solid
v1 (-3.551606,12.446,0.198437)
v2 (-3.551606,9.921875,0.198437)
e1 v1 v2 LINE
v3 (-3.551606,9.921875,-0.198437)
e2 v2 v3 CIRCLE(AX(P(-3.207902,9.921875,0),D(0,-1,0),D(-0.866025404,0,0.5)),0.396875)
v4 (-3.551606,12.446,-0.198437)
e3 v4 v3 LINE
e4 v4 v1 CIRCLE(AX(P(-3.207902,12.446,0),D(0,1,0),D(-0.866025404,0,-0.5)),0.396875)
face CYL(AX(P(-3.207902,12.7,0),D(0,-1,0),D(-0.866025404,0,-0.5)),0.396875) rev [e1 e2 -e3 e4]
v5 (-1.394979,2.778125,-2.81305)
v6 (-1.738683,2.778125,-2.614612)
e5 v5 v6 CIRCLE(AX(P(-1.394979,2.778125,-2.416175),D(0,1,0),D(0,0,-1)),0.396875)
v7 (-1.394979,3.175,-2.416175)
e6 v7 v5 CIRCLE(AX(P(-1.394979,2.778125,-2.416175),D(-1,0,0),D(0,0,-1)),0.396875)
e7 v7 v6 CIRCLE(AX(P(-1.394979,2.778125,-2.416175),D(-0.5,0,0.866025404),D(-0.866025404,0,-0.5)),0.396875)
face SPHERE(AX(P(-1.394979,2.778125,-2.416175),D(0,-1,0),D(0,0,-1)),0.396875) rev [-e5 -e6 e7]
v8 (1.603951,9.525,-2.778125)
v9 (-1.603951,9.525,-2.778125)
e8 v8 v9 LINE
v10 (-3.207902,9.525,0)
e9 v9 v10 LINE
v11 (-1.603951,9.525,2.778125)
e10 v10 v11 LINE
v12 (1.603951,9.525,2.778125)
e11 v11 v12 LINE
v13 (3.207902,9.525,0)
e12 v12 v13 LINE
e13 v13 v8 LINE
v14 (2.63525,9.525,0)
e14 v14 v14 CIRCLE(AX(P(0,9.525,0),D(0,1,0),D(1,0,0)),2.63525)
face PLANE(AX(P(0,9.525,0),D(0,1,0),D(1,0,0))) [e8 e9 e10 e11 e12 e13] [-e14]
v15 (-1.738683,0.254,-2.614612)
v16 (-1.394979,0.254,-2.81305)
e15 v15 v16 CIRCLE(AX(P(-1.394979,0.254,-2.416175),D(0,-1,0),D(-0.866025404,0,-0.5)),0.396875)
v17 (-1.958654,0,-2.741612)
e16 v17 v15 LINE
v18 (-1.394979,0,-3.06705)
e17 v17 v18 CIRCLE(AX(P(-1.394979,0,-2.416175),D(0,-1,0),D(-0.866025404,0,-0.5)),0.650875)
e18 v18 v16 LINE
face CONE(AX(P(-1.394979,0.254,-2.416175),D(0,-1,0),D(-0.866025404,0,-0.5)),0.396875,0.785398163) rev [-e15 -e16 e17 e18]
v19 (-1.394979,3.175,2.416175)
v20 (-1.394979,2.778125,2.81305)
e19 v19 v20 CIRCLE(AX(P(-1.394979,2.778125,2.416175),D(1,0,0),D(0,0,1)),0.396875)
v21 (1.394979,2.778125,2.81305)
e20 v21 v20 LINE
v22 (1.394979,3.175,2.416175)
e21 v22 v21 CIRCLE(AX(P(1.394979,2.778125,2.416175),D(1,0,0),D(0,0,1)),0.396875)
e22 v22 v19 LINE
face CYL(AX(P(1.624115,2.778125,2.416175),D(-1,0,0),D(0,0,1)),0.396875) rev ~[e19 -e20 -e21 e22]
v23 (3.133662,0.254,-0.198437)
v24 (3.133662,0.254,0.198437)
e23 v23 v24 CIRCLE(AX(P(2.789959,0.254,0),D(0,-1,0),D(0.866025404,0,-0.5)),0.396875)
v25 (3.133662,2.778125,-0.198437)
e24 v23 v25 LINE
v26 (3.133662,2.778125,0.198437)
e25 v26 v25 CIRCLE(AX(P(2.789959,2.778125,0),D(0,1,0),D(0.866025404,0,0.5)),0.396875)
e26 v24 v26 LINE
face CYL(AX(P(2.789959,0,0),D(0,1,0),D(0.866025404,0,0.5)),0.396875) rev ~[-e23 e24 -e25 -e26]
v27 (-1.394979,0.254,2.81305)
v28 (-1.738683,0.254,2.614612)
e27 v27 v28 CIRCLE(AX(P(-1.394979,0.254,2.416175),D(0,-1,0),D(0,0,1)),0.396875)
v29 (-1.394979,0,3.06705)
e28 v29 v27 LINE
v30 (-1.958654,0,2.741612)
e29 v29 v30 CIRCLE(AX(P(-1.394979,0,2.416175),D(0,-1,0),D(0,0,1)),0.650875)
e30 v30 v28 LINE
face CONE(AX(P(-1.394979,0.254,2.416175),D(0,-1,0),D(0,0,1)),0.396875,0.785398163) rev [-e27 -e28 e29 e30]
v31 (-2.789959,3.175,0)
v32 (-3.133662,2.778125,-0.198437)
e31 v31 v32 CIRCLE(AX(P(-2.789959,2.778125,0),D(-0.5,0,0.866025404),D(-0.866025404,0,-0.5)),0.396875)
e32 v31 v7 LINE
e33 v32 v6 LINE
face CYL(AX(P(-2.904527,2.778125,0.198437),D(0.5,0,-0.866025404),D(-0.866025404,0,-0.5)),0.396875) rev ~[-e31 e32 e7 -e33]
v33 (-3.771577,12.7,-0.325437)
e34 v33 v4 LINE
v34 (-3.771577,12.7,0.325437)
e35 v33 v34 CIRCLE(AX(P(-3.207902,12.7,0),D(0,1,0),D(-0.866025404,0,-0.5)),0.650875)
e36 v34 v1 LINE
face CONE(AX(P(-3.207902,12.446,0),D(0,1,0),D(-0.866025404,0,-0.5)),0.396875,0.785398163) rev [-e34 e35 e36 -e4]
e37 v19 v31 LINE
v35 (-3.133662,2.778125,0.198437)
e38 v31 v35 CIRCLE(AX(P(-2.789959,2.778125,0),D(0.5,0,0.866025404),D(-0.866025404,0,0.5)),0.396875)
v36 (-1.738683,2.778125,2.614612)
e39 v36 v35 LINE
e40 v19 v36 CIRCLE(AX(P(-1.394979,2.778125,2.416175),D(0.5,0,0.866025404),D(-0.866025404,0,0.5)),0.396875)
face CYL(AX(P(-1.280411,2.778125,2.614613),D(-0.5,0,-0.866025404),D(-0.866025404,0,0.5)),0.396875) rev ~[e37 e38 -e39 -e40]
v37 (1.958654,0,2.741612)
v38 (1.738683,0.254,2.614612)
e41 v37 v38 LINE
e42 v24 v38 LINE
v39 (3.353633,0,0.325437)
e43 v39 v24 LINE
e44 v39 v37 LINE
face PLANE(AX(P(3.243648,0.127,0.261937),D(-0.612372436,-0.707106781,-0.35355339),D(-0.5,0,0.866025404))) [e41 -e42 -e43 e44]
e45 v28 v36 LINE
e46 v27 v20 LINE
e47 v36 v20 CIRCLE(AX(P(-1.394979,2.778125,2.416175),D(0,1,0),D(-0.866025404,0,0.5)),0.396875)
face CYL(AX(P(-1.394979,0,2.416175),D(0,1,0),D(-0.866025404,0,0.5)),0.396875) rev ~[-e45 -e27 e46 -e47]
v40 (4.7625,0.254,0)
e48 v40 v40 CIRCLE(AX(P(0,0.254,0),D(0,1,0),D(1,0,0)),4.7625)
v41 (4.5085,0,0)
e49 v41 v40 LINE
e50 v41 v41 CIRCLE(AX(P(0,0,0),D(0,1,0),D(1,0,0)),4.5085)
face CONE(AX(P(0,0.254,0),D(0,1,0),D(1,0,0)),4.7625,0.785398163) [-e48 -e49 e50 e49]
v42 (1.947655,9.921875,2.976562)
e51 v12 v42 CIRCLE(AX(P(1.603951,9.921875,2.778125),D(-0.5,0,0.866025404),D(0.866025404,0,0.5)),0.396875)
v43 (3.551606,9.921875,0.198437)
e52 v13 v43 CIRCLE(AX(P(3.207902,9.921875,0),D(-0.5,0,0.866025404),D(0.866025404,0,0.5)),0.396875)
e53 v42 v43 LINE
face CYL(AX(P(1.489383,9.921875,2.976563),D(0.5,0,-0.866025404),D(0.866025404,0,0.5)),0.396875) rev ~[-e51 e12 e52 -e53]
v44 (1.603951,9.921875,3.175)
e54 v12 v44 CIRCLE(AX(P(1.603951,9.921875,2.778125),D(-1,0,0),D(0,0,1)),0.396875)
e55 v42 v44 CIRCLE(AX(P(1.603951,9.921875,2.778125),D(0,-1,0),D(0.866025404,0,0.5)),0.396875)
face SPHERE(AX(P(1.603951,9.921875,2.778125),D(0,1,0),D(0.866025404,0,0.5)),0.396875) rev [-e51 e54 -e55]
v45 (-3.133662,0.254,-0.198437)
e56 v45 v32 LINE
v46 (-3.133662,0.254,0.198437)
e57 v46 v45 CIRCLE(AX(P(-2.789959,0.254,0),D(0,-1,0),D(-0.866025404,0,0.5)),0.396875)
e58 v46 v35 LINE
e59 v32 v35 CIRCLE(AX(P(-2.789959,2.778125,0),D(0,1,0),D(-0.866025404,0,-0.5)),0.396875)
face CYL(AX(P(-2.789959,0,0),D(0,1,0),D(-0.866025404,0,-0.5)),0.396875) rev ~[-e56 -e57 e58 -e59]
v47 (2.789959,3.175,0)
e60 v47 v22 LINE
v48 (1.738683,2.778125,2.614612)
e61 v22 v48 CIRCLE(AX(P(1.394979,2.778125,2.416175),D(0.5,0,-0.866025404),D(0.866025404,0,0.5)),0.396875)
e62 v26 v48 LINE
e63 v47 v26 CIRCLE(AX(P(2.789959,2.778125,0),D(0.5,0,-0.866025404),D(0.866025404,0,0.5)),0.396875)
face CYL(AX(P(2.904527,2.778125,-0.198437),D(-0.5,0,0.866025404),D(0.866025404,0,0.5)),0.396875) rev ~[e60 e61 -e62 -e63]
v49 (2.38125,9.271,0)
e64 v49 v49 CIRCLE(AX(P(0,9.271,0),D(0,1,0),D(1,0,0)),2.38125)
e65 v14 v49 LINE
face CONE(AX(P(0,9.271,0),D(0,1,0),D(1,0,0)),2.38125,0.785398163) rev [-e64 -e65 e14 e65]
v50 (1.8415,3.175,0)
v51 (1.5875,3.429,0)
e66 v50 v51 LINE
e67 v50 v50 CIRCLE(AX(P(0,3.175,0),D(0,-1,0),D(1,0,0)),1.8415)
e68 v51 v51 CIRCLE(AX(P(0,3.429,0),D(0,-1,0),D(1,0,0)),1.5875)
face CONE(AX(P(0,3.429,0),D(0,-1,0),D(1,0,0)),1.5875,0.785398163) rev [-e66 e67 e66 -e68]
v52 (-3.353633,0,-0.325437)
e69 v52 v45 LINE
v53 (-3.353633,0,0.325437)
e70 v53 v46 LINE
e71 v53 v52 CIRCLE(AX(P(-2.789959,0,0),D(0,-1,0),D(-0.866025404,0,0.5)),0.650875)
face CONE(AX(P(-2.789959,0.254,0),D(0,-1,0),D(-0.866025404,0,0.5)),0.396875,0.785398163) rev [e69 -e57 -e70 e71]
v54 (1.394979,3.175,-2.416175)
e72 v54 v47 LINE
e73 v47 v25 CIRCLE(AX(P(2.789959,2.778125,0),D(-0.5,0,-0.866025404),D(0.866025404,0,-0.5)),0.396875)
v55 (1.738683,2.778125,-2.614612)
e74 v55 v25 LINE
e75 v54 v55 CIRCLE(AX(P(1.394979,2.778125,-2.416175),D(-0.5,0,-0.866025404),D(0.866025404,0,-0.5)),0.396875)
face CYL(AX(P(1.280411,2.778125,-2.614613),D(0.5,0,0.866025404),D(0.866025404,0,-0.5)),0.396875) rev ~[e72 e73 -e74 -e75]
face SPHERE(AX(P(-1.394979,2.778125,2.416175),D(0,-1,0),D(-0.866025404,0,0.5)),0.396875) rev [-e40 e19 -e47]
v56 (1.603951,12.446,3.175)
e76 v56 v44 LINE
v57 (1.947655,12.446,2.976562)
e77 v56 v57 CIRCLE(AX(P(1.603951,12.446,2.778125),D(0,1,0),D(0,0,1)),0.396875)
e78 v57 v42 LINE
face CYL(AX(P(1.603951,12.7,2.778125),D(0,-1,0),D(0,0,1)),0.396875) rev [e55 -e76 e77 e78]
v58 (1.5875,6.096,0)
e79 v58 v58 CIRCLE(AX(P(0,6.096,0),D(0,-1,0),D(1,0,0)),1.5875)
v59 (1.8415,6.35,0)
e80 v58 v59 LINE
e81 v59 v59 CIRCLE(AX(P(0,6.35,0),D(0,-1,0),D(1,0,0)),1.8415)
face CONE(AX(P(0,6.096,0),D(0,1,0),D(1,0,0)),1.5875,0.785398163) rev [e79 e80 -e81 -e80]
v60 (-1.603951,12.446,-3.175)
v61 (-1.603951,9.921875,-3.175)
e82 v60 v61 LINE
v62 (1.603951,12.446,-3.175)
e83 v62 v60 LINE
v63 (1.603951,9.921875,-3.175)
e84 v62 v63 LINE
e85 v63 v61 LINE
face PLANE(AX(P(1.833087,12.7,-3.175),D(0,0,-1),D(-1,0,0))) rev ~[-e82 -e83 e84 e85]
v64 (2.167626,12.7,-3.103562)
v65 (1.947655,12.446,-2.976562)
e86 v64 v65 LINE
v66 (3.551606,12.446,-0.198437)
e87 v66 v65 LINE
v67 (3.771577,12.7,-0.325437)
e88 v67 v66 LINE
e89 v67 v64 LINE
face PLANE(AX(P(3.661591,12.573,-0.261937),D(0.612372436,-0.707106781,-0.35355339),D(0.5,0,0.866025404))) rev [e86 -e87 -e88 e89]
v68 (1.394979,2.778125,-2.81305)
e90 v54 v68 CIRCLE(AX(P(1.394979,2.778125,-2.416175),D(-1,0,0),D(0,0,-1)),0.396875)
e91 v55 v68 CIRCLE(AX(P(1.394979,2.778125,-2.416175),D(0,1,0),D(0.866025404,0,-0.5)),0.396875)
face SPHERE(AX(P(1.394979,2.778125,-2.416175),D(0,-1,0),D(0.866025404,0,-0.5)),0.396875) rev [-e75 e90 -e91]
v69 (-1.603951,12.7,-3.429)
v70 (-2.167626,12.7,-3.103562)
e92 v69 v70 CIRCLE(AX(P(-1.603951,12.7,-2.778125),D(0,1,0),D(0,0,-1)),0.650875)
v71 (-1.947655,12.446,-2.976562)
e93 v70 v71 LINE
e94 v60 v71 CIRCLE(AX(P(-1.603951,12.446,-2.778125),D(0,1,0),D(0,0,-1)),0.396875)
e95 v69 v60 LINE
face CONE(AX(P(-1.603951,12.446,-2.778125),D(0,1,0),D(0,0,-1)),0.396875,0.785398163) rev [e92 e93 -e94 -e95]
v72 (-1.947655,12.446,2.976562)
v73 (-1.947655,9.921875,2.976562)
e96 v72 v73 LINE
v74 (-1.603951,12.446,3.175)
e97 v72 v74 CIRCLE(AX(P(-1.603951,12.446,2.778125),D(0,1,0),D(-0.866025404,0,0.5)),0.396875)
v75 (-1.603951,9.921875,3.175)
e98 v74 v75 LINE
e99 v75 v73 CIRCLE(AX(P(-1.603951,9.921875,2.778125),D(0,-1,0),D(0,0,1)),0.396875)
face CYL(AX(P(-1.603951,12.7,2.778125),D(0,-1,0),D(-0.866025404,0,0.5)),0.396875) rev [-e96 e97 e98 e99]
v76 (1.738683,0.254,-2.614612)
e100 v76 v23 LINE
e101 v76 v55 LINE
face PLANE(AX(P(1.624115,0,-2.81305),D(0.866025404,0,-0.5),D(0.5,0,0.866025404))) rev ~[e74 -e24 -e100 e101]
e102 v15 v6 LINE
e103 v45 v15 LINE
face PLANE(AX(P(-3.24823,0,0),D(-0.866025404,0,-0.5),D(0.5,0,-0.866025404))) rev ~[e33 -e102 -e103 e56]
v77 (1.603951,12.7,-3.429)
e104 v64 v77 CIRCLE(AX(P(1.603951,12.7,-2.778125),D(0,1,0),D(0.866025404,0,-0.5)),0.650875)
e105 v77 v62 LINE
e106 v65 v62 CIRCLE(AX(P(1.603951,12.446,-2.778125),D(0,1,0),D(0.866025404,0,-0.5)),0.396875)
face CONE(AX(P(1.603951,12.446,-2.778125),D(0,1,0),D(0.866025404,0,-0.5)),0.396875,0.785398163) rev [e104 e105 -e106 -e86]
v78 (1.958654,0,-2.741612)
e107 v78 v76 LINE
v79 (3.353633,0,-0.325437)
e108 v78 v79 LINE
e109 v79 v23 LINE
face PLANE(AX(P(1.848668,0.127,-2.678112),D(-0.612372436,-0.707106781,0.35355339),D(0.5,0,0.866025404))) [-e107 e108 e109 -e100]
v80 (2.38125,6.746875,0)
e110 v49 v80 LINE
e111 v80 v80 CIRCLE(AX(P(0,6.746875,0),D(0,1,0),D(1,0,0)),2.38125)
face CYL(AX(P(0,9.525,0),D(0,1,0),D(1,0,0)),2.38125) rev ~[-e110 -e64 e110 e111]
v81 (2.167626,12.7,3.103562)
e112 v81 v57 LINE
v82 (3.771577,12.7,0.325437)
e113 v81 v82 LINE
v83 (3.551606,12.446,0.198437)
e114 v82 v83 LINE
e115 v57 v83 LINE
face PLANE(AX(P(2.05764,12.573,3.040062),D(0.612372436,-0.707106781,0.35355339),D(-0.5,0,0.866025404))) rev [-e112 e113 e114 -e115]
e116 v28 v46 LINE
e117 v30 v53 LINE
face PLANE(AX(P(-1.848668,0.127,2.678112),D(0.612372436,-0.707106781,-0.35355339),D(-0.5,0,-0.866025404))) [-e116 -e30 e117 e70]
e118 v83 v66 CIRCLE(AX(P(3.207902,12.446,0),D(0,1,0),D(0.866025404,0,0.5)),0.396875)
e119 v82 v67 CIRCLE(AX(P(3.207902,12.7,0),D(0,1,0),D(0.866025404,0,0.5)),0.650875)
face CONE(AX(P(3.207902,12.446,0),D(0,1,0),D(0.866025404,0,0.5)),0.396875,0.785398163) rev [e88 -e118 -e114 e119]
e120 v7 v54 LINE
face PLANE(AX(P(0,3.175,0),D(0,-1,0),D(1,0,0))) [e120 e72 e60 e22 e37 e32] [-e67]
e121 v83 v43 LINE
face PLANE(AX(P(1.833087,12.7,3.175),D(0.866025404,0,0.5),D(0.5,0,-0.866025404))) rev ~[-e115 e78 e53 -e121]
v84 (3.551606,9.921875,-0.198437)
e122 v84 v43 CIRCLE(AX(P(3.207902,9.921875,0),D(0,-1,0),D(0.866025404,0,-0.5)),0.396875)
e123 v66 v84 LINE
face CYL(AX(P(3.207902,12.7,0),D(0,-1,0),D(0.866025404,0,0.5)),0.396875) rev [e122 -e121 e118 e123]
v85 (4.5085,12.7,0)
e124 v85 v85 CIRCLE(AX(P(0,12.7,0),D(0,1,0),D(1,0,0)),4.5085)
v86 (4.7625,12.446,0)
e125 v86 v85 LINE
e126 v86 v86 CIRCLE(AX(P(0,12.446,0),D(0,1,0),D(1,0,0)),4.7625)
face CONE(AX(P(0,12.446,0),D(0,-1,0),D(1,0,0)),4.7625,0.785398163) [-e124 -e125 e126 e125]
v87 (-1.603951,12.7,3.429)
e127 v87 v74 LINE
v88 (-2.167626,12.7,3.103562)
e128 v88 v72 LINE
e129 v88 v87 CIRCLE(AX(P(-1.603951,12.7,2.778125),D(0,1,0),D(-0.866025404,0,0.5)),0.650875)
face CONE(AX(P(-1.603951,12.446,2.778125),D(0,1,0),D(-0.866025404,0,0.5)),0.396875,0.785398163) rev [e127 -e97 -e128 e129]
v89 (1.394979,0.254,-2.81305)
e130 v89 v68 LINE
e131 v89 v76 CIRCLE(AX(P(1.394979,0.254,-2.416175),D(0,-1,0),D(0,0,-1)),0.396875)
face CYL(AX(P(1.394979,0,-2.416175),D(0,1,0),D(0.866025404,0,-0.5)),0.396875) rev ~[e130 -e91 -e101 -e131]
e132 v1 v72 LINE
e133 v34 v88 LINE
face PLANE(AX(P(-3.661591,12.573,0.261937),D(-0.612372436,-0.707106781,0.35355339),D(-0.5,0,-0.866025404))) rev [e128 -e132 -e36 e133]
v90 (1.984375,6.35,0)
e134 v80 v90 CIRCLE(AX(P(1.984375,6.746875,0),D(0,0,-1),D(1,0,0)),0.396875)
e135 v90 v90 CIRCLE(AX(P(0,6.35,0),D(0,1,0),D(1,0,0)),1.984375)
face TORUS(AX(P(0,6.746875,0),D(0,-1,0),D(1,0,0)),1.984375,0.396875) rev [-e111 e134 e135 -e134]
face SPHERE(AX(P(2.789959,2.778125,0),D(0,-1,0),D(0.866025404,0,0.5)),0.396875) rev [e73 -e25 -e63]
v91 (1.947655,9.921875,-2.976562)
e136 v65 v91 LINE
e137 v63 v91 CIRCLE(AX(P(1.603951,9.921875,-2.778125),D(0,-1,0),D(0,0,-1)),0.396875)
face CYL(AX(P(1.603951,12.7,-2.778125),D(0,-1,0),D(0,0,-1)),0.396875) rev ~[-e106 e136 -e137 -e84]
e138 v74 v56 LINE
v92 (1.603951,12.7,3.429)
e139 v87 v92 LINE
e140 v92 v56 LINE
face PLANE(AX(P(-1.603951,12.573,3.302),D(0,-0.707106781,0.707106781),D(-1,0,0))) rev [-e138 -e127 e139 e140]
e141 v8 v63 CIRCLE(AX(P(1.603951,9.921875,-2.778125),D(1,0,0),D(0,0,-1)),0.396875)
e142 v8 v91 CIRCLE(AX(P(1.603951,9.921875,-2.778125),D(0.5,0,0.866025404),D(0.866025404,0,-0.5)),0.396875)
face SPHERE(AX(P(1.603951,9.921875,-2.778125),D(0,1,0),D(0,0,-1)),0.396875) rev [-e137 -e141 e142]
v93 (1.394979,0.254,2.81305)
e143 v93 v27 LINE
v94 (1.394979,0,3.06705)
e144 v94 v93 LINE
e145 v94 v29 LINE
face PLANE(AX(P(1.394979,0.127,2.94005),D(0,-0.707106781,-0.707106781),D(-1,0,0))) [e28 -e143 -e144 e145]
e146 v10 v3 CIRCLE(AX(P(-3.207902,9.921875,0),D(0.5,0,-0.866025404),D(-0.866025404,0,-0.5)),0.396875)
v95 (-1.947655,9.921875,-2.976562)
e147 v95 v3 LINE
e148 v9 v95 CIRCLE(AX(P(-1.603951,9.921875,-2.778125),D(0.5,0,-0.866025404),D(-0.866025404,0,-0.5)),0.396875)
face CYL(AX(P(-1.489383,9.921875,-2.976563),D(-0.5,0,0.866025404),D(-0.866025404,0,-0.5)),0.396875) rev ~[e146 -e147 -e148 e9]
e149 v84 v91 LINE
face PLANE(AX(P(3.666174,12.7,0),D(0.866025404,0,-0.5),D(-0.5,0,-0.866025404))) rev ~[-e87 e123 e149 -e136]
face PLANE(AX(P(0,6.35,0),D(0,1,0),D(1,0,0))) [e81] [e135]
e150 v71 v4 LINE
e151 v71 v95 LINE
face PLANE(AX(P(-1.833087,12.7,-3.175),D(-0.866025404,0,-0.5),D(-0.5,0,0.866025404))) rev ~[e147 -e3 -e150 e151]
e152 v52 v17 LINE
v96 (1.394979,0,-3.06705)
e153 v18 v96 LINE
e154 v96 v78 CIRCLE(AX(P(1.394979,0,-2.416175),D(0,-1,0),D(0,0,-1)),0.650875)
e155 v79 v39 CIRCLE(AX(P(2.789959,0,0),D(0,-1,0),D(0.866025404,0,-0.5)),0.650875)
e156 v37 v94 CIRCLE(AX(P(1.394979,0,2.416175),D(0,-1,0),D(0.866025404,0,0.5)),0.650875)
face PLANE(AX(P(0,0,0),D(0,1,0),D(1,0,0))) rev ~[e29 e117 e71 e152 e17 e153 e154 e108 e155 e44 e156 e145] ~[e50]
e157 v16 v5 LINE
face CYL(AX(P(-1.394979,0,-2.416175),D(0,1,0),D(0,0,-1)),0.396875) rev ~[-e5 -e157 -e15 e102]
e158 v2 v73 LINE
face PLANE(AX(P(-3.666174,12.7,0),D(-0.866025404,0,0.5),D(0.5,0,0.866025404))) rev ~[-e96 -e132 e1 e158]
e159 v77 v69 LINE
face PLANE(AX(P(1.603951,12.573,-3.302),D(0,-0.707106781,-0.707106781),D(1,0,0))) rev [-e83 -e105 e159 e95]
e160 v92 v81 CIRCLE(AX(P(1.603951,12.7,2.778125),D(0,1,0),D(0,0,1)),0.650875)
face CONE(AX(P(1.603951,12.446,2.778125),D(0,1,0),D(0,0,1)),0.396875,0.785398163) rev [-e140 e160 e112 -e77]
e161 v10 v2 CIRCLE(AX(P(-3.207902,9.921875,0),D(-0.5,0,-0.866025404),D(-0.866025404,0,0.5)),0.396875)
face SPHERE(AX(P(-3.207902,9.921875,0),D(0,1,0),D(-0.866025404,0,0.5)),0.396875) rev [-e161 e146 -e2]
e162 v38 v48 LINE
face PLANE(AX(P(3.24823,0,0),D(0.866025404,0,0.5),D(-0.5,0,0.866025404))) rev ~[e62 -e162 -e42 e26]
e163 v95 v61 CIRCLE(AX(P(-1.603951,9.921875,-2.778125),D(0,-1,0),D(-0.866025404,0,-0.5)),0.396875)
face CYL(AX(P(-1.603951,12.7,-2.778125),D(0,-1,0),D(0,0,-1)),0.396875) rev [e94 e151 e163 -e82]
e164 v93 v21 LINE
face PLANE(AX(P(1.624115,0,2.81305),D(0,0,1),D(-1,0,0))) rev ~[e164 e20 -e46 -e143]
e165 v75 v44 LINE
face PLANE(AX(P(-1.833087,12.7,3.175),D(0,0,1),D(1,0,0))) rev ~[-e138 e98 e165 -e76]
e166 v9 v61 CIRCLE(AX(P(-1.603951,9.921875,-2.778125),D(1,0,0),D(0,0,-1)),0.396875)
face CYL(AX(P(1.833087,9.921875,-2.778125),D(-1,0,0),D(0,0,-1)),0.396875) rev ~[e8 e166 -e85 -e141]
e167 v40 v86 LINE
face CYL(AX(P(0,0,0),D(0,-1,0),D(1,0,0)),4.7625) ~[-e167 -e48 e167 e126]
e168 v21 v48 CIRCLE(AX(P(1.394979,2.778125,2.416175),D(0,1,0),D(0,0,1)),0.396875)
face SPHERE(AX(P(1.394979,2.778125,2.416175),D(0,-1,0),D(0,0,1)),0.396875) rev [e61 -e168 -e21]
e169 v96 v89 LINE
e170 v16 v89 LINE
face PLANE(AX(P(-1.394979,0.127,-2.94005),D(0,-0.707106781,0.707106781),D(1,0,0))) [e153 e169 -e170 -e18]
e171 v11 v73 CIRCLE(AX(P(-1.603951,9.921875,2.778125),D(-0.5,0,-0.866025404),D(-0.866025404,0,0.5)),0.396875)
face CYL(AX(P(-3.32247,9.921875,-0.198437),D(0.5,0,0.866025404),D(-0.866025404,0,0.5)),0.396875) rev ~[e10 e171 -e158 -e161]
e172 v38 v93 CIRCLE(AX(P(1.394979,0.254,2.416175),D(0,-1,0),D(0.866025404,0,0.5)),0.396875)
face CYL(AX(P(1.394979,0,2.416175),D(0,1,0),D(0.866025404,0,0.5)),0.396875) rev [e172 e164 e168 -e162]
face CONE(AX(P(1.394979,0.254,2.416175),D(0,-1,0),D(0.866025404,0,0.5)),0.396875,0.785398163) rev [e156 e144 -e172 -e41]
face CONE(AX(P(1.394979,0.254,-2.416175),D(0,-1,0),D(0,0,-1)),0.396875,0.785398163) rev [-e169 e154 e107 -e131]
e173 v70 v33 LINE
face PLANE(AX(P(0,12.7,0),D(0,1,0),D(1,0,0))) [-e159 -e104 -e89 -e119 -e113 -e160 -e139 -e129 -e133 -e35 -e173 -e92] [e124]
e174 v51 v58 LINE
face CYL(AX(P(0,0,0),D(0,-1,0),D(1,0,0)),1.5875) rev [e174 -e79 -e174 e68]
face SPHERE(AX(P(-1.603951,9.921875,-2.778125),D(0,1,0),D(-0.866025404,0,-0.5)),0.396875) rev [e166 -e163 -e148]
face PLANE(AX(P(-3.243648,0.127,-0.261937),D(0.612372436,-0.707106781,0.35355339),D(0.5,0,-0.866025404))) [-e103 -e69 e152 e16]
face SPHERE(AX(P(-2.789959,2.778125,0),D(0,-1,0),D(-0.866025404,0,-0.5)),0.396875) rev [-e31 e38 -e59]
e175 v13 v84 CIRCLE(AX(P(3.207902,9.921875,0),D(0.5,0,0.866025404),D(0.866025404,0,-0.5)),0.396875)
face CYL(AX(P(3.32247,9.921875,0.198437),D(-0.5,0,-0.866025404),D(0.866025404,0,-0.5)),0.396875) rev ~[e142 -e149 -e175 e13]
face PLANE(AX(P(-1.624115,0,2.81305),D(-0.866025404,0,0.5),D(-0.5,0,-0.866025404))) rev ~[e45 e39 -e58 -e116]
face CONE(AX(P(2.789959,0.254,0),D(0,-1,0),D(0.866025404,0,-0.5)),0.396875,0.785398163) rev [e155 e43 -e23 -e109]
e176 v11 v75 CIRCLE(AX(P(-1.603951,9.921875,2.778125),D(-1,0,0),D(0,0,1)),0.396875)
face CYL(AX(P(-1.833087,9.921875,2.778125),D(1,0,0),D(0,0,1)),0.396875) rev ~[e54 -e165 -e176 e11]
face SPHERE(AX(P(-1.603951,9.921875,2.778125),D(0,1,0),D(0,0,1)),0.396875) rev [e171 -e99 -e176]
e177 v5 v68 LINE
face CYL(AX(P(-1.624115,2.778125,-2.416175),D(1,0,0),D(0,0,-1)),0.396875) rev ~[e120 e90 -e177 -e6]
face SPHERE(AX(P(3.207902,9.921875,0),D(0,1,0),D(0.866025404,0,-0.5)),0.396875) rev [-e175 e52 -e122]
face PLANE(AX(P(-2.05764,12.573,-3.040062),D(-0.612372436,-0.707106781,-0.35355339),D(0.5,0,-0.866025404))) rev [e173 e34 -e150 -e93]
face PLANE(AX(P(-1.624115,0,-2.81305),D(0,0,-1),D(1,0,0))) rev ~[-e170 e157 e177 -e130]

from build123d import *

# Parameters (mm, degrees)
SKETCH4_R           = 4.7625
SKETCH4_R_2         = 1.5875
BOSS_EXTRUDE1_DEPTH = 12.7
CUT_EXTRUDE3_DEPTH  = 3.175
CUT_EXTRUDE2_DEPTH  = 3.175
SKETCH8_R           = 2.38125
CUT_EXTRUDE4_DEPTH  = 3.175
FILLET1_R           = 0.396875
CHAMFER1_SIZE       = 0.254


with BuildPart() as part:
    # Sketch4 → Boss-Extrude1 (new body)
    with BuildSketch(Plane(origin=(0, 0, 0), x_dir=(1, 0, 0), z_dir=(0, 1, 0))):
        Circle(SKETCH4_R)
        Circle(SKETCH4_R_2, mode=Mode.SUBTRACT)
    extrude(amount=BOSS_EXTRUDE1_DEPTH)

    # Sketch7 → Cut-Extrude3 (cut)
    with BuildSketch(Plane.XZ):
        Polygon((1.624115175, 2.81305), (-1.624115175, 2.81305), (-3.248230349, 0), (-1.624115175, -2.81305), (1.624115175, -2.81305), (3.248230349, 0), align=None)
    extrude(amount=-CUT_EXTRUDE3_DEPTH, mode=Mode.SUBTRACT)

    # Sketch6 → Cut-Extrude2 (cut)
    with BuildSketch(Plane(origin=(0, 12.7, 0), x_dir=(1, 0, 0), z_dir=(0, 1, 0))):
        Polygon((1.833087105, 3.175), (-1.833087105, 3.175), (-3.666174209, 0), (-1.833087105, -3.175), (1.833087105, -3.175), (3.666174209, 0), align=None)
    extrude(amount=-CUT_EXTRUDE2_DEPTH, mode=Mode.SUBTRACT)

    # Sketch8 → Cut-Extrude4 (cut)
    with BuildSketch(Plane(origin=(0, 9.525, 0), x_dir=(1, 0, 0), z_dir=(0, 1, 0))):
        Circle(SKETCH8_R)
    extrude(amount=-CUT_EXTRUDE4_DEPTH, mode=Mode.SUBTRACT)

    # Fillet1
    fillet1_edges = [part.edges().sort_by_distance(p)[0] for p in [
        (2.436172762, 3.175, 1.406525),
        (1.624115175, 1.5875, 2.81305),
        (2.436172762, 3.175, -1.406525),
        (3.248230349, 1.5875, 0),
        (0, 3.175, -2.81305),
        (1.624115175, 1.5875, -2.81305),
        (-2.436172762, 3.175, -1.406525),
        (-1.624115175, 1.5875, -2.81305),
        (-2.436172762, 3.175, 1.406525),
        (-3.248230349, 1.5875, 0),
        (0, 3.175, 2.81305),
        (-1.624115175, 1.5875, 2.81305),
        (2.749630657, 9.525, -1.5875),
        (1.833087105, 11.1125, -3.175),
        (2.749630657, 9.525, 1.5875),
        (3.666174209, 11.1125, 0),
        (0, 9.525, 3.175),
        (1.833087105, 11.1125, 3.175),
        (-2.749630657, 9.525, 1.5875),
        (-1.833087105, 11.1125, 3.175),
        (-2.749630657, 9.525, -1.5875),
        (-3.666174209, 11.1125, 0),
        (0, 9.525, -3.175),
        (-1.833087105, 11.1125, -3.175),
        (-2.38125, 6.35, 0),
    ]]
    fillet(fillet1_edges, radius=FILLET1_R)

    # Chamfer1
    chamfer1_edges = [part.edges().sort_by_distance(p)[0] for p in [
        (-1.5875, 3.175, 0),
        (-4.7625, 0, 0),
        (-4.7625, 12.7, 0),
        (-1.5875, 6.35, 0),
        (-2.38125, 9.525, 0),
        (2.436172762, 0, 1.406525),
        (2.436172762, 0, -1.406525),
        (0, 0, -2.81305),
        (-2.436172762, 0, -1.406525),
        (-2.436172762, 0, 1.406525),
        (0, 0, 2.81305),
        (0, 12.7, -3.175),
        (2.749630657, 12.7, -1.5875),
        (-2.749630657, 12.7, 1.5875),
        (-2.749630657, 12.7, -1.5875),
        (0, 12.7, 3.175),
        (2.749630657, 12.7, 1.5875),
        (3.186833573, 0, 0),
        (-1.593416787, 0, -2.759878832),
        (-3.186833573, 0, 0),
        (-1.593416787, 0, 2.759878832),
        (1.593416787, 0, 2.759878832),
        (1.593416787, 0, -2.759878832),
        (1.802388717, 12.7, -3.121828832),
        (-3.604777433, 12.7, 0),
        (-1.802388717, 12.7, 3.121828832),
        (1.802388717, 12.7, 3.121828832),
        (3.604777433, 12.7, 0),
        (-1.802388717, 12.7, -3.121828832),
    ]]
    chamfer(chamfer1_edges, length=CHAMFER1_SIZE)


solid = part.part
